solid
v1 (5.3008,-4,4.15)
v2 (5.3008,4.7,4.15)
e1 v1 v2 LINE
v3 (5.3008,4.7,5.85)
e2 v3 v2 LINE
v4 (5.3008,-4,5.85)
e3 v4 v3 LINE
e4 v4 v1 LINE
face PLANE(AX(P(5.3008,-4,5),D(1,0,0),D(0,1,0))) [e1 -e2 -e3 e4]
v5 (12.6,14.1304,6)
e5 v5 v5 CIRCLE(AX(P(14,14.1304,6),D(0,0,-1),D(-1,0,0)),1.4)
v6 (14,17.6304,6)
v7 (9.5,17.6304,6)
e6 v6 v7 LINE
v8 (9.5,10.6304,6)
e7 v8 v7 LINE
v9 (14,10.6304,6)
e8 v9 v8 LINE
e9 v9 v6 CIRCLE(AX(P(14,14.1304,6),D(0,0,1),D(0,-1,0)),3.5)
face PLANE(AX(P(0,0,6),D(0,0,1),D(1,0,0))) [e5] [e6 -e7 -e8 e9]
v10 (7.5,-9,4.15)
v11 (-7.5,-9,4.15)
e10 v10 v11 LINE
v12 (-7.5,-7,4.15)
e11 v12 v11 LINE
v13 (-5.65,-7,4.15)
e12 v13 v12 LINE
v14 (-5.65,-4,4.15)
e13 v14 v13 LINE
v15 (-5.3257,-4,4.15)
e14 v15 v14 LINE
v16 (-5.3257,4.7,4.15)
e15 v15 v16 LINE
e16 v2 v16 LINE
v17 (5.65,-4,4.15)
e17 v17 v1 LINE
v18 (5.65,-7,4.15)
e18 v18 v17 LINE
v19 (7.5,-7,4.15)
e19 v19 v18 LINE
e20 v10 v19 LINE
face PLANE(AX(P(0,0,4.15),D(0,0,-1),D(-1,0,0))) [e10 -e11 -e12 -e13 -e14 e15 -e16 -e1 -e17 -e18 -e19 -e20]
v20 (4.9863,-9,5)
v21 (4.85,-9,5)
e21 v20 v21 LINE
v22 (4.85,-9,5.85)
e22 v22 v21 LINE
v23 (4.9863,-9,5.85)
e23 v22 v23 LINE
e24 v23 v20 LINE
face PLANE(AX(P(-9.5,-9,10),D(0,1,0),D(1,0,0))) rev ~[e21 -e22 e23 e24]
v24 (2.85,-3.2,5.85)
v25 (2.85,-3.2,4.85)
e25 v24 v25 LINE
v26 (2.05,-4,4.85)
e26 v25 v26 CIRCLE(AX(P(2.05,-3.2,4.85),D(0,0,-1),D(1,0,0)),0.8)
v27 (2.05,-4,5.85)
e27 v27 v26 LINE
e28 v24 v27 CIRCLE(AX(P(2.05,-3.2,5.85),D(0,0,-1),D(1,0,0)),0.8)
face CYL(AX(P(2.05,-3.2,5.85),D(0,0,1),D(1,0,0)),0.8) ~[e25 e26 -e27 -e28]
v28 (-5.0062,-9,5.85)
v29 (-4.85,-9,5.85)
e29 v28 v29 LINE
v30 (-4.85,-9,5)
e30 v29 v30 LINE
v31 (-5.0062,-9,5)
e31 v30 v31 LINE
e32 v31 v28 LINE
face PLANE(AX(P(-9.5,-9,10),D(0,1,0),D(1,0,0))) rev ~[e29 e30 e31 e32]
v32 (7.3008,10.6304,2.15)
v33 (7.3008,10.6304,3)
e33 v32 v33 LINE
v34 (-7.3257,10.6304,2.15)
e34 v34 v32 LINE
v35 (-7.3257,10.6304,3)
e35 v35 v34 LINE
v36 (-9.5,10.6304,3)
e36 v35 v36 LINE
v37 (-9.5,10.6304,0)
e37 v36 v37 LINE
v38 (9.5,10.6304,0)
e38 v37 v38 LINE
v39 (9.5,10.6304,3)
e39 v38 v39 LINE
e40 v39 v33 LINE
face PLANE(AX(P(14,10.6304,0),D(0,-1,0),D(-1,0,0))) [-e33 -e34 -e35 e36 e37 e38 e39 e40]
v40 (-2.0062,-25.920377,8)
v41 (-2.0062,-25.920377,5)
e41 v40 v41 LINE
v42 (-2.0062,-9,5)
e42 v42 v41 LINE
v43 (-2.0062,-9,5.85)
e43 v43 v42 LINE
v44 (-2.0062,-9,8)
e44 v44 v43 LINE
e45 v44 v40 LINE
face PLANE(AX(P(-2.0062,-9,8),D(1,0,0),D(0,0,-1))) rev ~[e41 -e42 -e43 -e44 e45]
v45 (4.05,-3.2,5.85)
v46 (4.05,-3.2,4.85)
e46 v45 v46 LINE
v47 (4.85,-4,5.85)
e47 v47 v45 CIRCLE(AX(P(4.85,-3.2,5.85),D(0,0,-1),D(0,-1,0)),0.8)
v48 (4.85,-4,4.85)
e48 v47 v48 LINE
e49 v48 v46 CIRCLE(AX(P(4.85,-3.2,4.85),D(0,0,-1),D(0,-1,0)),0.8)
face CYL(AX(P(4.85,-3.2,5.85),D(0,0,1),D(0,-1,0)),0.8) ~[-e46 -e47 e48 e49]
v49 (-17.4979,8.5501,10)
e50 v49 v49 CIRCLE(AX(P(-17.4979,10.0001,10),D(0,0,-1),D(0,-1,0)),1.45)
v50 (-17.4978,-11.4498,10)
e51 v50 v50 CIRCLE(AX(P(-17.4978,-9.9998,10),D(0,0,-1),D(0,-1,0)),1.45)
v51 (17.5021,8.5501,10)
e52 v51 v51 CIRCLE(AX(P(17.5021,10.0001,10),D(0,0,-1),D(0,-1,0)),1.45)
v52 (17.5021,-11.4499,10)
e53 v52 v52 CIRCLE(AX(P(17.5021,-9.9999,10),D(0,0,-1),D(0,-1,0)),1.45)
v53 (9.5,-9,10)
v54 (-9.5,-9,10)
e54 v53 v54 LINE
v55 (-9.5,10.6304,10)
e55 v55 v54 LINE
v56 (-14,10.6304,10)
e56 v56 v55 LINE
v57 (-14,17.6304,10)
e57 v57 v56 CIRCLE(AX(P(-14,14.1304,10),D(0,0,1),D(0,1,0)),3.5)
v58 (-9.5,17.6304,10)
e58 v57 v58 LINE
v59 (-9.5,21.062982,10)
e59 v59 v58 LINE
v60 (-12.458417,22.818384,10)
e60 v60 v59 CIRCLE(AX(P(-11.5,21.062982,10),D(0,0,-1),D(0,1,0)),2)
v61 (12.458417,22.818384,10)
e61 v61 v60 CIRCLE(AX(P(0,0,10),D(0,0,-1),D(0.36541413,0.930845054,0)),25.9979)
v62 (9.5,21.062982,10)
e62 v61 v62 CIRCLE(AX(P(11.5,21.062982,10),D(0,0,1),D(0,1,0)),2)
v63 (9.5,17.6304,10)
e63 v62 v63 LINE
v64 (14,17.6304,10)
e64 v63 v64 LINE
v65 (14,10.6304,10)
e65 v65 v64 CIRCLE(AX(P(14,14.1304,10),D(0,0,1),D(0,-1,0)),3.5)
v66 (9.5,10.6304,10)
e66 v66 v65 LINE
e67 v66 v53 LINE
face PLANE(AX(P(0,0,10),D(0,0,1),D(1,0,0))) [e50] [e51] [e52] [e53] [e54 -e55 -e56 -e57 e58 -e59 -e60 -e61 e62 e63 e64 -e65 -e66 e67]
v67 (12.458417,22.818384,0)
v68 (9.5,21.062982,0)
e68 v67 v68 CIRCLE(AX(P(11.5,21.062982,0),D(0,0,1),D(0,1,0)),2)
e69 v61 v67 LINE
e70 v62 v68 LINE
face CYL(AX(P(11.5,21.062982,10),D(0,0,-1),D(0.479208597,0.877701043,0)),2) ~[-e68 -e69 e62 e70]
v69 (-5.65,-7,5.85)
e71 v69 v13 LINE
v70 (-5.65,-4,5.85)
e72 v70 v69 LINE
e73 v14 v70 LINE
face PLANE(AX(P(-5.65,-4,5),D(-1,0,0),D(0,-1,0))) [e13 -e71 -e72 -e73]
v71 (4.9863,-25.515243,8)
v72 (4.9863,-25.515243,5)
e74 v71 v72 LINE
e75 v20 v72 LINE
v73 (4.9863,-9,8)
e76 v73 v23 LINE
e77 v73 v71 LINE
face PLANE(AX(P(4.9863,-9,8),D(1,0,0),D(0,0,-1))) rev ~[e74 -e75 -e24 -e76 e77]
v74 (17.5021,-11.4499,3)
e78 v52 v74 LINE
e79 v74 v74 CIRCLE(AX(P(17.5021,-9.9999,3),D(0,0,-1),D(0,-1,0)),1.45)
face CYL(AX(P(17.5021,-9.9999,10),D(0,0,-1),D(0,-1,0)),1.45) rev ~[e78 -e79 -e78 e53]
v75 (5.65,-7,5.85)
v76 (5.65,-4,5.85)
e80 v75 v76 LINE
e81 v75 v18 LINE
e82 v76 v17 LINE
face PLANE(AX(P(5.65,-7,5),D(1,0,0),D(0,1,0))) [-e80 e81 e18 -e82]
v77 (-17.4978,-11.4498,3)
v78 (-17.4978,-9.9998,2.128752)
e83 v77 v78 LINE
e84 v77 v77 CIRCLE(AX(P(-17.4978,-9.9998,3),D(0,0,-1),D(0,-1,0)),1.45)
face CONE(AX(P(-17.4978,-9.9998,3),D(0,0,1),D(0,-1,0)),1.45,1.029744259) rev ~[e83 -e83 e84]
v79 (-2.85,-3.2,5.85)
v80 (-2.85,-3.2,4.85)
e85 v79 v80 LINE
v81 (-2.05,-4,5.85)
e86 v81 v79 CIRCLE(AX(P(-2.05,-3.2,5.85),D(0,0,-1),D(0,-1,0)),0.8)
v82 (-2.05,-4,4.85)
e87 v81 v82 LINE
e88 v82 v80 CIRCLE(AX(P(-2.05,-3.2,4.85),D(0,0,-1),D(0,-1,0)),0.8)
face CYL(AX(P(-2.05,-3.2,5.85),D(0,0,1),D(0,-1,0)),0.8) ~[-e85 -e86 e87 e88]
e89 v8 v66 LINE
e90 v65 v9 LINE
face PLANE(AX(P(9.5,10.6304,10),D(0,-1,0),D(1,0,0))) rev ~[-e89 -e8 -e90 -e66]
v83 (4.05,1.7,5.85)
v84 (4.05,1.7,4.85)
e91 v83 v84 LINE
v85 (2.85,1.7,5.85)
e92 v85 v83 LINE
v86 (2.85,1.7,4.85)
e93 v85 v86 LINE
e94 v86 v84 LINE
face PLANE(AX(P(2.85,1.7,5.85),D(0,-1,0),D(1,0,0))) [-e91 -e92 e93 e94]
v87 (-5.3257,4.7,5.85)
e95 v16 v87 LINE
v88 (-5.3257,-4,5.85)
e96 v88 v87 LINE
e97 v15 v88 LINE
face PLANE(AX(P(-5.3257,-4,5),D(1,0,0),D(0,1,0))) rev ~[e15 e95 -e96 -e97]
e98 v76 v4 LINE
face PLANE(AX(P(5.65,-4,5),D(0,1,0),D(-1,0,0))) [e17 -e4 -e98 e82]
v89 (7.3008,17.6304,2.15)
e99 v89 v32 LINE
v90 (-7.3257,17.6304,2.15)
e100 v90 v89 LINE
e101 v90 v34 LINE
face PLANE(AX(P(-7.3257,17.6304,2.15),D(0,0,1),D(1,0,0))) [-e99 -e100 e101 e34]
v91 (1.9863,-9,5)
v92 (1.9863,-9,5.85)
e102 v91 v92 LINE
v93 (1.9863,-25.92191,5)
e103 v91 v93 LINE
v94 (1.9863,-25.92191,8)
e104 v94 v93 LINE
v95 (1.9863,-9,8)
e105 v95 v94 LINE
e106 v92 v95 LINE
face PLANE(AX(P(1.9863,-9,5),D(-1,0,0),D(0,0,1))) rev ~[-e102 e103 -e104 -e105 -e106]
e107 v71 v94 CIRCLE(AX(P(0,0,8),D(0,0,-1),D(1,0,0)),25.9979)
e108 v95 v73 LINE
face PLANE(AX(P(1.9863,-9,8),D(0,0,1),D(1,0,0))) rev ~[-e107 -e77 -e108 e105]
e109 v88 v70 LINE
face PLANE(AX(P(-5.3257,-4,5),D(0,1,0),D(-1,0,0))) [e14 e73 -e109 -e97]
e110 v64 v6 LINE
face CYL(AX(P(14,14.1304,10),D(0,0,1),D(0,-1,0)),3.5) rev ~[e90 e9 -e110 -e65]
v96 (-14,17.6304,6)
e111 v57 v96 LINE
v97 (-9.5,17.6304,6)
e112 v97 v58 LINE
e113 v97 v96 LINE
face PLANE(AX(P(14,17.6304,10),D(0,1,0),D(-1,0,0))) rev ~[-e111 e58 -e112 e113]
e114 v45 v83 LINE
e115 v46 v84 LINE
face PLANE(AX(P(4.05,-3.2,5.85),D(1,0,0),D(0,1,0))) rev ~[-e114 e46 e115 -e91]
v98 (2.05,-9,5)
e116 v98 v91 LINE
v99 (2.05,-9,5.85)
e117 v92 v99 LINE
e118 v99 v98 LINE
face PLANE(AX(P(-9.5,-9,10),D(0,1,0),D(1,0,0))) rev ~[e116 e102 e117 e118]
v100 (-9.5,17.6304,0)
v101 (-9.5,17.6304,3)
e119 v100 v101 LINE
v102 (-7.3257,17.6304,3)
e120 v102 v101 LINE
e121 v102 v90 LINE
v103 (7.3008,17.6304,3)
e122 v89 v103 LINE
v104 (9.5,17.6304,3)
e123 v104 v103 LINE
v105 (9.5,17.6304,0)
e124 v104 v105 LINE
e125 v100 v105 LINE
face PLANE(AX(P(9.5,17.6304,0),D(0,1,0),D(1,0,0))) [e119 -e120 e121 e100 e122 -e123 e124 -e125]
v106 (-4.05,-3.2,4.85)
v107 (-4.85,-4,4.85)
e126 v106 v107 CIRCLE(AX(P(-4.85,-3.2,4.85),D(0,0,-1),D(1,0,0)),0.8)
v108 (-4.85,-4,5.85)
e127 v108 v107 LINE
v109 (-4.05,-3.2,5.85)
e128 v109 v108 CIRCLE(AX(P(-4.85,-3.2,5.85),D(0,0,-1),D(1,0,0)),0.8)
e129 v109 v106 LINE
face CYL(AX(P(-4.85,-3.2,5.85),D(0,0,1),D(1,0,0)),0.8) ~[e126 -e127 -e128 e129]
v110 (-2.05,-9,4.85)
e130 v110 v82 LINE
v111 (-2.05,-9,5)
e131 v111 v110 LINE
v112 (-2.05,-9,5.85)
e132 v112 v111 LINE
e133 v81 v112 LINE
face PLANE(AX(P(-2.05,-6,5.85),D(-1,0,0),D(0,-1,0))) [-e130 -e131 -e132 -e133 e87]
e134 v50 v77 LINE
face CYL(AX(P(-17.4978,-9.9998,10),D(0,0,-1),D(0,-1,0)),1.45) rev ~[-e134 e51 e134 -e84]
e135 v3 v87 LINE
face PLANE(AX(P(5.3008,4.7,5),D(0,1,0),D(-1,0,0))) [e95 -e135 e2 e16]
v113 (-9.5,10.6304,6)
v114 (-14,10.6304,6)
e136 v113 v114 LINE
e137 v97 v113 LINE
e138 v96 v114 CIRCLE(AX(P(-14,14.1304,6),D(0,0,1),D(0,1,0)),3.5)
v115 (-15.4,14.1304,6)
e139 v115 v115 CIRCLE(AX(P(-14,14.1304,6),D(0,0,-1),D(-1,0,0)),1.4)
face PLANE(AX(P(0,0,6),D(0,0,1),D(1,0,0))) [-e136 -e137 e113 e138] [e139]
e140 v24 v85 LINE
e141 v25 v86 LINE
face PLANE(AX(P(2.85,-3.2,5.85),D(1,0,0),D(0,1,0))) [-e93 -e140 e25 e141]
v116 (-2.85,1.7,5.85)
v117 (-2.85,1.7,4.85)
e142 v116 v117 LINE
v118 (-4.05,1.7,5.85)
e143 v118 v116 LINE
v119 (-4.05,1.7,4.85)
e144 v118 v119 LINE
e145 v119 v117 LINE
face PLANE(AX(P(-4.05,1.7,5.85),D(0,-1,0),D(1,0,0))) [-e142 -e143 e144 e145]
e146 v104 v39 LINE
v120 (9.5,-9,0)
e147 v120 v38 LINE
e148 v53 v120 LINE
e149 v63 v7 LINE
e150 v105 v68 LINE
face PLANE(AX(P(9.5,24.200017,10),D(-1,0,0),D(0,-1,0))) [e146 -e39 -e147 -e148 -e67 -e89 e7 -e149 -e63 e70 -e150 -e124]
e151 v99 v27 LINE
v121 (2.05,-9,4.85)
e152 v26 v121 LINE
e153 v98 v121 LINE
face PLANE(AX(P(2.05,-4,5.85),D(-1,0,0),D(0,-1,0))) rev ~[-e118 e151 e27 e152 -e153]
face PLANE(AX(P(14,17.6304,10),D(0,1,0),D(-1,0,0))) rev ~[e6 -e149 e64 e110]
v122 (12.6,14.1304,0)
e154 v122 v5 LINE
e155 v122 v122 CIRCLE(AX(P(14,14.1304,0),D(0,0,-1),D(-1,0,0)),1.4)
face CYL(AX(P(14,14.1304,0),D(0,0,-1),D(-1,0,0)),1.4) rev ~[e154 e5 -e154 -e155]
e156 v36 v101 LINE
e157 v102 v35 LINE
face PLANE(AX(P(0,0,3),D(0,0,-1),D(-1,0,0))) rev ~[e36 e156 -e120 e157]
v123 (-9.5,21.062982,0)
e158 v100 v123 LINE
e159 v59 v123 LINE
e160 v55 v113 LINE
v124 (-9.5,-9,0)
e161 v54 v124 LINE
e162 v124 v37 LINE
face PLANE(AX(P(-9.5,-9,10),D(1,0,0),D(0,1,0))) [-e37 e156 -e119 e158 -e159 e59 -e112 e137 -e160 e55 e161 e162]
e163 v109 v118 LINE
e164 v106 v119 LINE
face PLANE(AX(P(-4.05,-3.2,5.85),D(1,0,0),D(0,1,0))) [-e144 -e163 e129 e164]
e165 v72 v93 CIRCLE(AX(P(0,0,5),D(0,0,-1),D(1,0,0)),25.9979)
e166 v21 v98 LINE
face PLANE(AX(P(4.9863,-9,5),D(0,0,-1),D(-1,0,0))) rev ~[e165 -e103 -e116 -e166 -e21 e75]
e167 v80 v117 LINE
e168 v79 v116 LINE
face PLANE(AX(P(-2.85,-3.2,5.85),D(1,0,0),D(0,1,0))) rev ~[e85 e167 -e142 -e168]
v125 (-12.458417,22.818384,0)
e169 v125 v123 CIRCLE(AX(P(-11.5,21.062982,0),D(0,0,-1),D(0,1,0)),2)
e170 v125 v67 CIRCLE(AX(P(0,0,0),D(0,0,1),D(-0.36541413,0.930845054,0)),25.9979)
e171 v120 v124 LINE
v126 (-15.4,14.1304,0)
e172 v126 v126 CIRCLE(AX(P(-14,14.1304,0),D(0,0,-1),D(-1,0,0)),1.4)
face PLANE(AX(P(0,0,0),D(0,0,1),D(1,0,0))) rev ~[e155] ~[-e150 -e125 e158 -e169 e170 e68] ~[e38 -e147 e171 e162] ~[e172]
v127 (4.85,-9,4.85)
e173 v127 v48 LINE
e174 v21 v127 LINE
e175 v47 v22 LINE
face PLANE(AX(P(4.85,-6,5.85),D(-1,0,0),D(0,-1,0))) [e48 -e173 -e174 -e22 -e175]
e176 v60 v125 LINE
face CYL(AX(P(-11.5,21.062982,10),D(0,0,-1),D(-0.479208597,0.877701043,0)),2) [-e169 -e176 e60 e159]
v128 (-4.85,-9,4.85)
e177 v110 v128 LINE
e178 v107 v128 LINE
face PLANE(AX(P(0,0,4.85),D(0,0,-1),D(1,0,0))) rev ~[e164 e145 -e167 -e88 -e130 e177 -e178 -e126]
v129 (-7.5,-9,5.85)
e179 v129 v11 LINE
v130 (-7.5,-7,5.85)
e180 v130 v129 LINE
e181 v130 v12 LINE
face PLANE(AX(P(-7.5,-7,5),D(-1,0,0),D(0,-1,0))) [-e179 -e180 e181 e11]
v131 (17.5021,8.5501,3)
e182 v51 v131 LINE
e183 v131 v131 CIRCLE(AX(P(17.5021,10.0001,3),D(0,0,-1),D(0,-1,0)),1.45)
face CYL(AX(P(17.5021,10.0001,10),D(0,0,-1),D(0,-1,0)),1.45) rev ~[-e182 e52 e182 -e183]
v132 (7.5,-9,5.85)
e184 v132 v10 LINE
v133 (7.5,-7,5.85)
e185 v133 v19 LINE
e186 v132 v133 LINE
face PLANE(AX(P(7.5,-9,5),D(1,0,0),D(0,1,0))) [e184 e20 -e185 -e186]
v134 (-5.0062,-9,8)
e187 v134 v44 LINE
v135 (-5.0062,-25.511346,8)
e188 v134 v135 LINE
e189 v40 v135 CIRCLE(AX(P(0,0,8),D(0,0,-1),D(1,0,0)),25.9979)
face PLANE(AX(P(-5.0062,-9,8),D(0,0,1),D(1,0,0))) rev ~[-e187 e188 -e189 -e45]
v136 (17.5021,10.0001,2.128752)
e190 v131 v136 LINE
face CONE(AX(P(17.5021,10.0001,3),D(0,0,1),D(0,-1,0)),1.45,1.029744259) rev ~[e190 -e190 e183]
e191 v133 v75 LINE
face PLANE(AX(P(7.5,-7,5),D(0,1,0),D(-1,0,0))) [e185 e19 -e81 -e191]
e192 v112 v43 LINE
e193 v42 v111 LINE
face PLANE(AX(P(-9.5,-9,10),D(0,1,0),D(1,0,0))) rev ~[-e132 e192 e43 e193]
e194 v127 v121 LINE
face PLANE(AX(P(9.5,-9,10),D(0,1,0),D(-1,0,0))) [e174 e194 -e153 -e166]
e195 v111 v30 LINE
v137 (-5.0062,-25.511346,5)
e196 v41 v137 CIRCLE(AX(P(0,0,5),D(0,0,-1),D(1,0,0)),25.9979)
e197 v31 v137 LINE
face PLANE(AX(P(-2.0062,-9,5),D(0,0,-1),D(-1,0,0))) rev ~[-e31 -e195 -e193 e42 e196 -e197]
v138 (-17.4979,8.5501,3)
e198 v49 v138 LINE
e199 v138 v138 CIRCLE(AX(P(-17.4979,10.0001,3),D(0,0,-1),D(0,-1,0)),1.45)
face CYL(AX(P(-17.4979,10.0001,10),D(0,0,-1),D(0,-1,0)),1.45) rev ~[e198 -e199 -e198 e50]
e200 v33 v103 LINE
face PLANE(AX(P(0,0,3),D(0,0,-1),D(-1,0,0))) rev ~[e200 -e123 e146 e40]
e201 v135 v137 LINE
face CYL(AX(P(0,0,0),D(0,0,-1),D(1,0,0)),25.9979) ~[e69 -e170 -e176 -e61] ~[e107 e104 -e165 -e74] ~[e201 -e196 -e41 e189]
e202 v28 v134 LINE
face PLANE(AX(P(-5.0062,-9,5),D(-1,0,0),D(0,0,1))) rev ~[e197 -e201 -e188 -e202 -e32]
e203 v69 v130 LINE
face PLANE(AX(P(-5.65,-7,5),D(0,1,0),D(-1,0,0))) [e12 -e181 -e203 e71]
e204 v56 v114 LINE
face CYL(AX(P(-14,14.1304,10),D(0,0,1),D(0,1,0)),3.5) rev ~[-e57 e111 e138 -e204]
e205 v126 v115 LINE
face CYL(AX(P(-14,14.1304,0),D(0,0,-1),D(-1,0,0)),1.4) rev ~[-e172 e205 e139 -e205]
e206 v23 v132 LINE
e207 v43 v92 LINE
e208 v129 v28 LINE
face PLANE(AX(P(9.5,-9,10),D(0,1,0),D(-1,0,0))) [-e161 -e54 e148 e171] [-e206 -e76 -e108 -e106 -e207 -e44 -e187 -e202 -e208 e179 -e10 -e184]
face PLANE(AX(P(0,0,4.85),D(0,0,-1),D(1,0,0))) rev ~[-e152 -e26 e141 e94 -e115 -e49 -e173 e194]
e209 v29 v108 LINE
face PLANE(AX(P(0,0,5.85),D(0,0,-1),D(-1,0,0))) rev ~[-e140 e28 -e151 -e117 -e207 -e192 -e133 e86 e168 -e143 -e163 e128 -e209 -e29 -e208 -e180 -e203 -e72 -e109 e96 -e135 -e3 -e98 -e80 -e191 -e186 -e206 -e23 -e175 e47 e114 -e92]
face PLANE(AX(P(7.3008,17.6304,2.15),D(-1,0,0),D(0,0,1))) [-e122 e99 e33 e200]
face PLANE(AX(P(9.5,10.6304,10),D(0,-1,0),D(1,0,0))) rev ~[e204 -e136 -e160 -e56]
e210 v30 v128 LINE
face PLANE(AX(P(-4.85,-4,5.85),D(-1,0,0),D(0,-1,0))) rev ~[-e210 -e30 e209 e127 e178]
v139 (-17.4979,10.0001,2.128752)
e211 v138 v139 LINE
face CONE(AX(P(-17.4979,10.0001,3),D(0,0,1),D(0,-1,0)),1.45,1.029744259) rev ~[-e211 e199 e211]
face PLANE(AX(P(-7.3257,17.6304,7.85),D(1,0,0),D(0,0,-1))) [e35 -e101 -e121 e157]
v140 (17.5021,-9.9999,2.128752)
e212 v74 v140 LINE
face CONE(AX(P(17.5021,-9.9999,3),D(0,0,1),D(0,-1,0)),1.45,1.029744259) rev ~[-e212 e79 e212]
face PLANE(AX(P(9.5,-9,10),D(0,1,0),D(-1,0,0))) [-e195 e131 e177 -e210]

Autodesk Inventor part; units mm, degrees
ref_plane "YZ Plane" through (0, 0, 0) normal (1, 0, 0) x (0, 1, 0)
ref_plane "XZ Plane" through (0, 0, 0) normal (0, 1, 0) x (-1, 0, 0)
ref_plane "XY Plane" through (0, 0, 0) normal (0, 0, 1) x (1, 0, 0)
ref_plane "Work Plane1" through (0, 0, 0) normal (0, 0, 1) x (1, 0, 0)
sketch "Sketch1" plane through (0, 0, 0) normal (0, 0, 1) x (1, 0, 0)
  circle A0 centre (0, 0) radius 25.9979 projected
  circle A1 centre (-9.4998, -11.0022) radius 2.6601 projected
  circle A2 centre (0.0001, -0.0022) radius 3.8801 projected
  circle A3 centre (0.0001, -0.0022) radius 6.7754 projected
  circle A4 centre (0.0001, -0.0022) radius 10
  point P0 (0, 0)
  dimension "d17" = 20
extrude "Extrusion1" add sketch "Sketch1" along normal blind 10 contours A0 | A1 | A2 | A3 | A4
ref_plane "Arbeitsebene4" through (0, 0, 5) normal (0, 0, -1) x (-1, 0, 0)
sketch "Skizze22" plane through (0, 0, 10) normal (0, 0, 1) x (1, 0, 0)
  circle A0 centre (0, 0) radius 25.9979 projected
  line L0 (-9.5, 60.9958) -> (9.5, 60.9958)
  line L1 (9.5, 60.9958) -> (9.5, -9)
  line L2 (9.5, -9) -> (-9.5, -9)
  line L3 (-9.5, -9) -> (-9.5, 60.9958)
  line L4 (-9.5, 60.9958) -> (9.5, -9) construction
  line L5 (9.5, 60.9958) -> (-9.5, -9) construction
  point P0 (0, 0)
  point P1 (0, 25.9979)
  point P2 (2.05, -9)
  dimension "d82" = 19
extrude "Extrusion16" cut sketch "Skizze22" against normal blind 10 contours L1 L2 L3 A0 | A0 L3 L0 L1 picked at (-1.0778, 2.5987)
sketch "Skizze23" plane through (0, 0, 5) normal (0, 0, -1) x (-1, 0, 0)
  line L0 (-5.5015, 4.1) -> (-5.3008, 4.7) projected
  line L1 (-5.3008, 4.7) -> (5.3257, 4.7) projected
  line L2 (5.3257, 4.7) -> (5.5015, 4.1) projected
  line L3 (5.5015, 4.1) -> (5.65, 3.9515) projected
  line L4 (5.65, 3.9515) -> (5.65, -4) projected
  line L5 (4.85, -4) -> (5.65, -4) projected
  arc A0 (4.05, -3.2) -> (4.85, -4) centre (4.85, -3.2) ccw projected
  line L6 (4.05, -3.2) -> (4.05, 1.7) projected
  line L7 (4.05, 1.7) -> (2.85, 1.7) projected
  line L8 (2.85, -3.2) -> (2.85, 1.7) projected
  arc A1 (2.05, -4) -> (2.85, -3.2) centre (2.05, -3.2) ccw projected
  line L9 (-2.05, -4) -> (2.05, -4) projected
  arc A2 (-2.85, -3.2) -> (-2.05, -4) centre (-2.05, -3.2) ccw projected
  line L10 (-2.85, -3.2) -> (-2.85, 1.7) projected
  line L11 (-2.85, 1.7) -> (-4.05, 1.7) projected
  line L12 (-4.05, -3.2) -> (-4.05, 1.7) projected
  arc A3 (-4.85, -4) -> (-4.05, -3.2) centre (-4.85, -3.2) ccw projected
  line L13 (-5.65, -4) -> (-4.85, -4) projected
  line L14 (-5.65, -4) -> (-5.65, 3.9515) projected
  line L15 (-5.65, 3.9515) -> (-5.5015, 4.1) projected
  line L16 (5.65, -4) -> (5.65, -7) projected
  line L17 (5.65, -7) -> (7.5, -7) projected
  line L18 (7.5, -7) -> (7.5, -9) projected
  line L19 (7.5, -9) -> (4.85, -9) projected
  line L20 (4.85, -6) -> (4.85, -9) projected
  line L21 (4.85, -4) -> (4.85, -6) projected
  line L22 (4.85, -4) -> (5.65, -4) projected
  line L23 (-5.65, -7) -> (-5.65, -4) projected
  line L24 (-5.65, -4) -> (-4.85, -4) projected
  line L25 (-4.85, -4) -> (-4.85, -6) projected
  line L26 (-4.85, -6) -> (-4.85, -9) projected
  line L27 (-4.85, -9) -> (-7.5, -9) projected
  line L28 (-7.5, -9) -> (-7.5, -7) projected
  line L29 (-7.5, -7) -> (-5.65, -7) projected
  line L30 (-4.85, -9) -> (4.85, -9)
  line L31 (5.65, -7) -> (5.3257, -7)
  line L32 (5.3257, -7) -> (5.3257, 4.7)
  line L33 (5.3257, 4.7) -> (5.65, 4.7)
  line L34 (5.65, 4.7) -> (5.65, -7)
  line L35 (-5.3008, 4.7) -> (-5.65, 4.7)
  line L36 (-5.65, 4.7) -> (-5.65, -7)
  line L37 (-5.65, -7) -> (-5.3008, -7)
  line L38 (-5.3008, -7) -> (-5.3008, 4.7)
  point P0 (5.3257, -4)
  point P1 (-5.3008, -4)
extrude "Extrusion17" add sketch "Skizze23" along normal mid plane 1.7 contours L1 L32 L5 A0 L6 L7 L8 A1 L9 A2 L10 L11 L12 A3 L13 L38 | L38 L37 L23 L13 | L13 L25 L26 L27 L28 L29 L37 L38 | L32 L31 L17 L18 L19 L20 L21 L5 | L5 L16 L31 L32 | A3 L12 L11 L10 A2 L9 A1 L8 L7 L6 A0 L21 L20 L30 L26 L25
sketch "Skizze24" plane through (0, 0, 5.85) normal (0, 0, -1) x (1, 0, 0)
  line L0 (2.85, 3.2) -> (2.85, -1.7) projected
  line L1 (2.85, -1.7) -> (4.05, -1.7) projected
  line L2 (4.05, 3.2) -> (4.05, -1.7) projected
  arc A0 (4.85, 4) -> (4.05, 3.2) centre (4.85, 3.2) ccw projected
  line L3 (4.85, 4) -> (4.85, 6) projected
  arc A1 (2.85, 3.2) -> (2.05, 4) centre (2.05, 3.2) ccw projected
  line L4 (2.05, 4) -> (2.05, 6) projected
  line L5 (4.85, 6) -> (4.85, 9) projected
  line L6 (2.05, 6) -> (2.05, 9) projected
  line L7 (9.5, 9) -> (-9.5, 9) projected
  line L8 (-2.05, 6) -> (-2.05, 9) projected
  line L9 (-4.85, 6) -> (-4.85, 9) projected
  line L10 (-2.15, 5.5641) -> (-2.15, 4)
  line L11 (-2.05, 4) -> (-2.05, 6) projected
  line L12 (-4.85, 4) -> (-4.85, 6) projected
  arc A2 (-4.05, 3.2) -> (-4.85, 4) centre (-4.85, 3.2) ccw projected
  arc A3 (-2.05, 4) -> (-2.85, 3.2) centre (-2.05, 3.2) ccw projected
  line L13 (-2.85, 3.2) -> (-2.85, -1.7) projected
  line L14 (-4.05, 3.2) -> (-4.05, -1.7) projected
  line L15 (-4.05, -1.7) -> (-2.85, -1.7) projected
extrude "Extrusion18" cut sketch "Skizze24" along normal blind 1
sketch "Skizze25" plane through (-9.5, -9, 10) normal (0, 1, 0) x (1, 0, 0)
  line L0 (14.4863, 5) -> (11.4863, 5)
  line L1 (11.4863, 5) -> (11.4863, 2)
  line L2 (11.4863, 2) -> (14.4863, 2)
  line L3 (14.4863, 2) -> (14.4863, 5)
  line L4 (7.4938, 5) -> (4.4938, 5)
  line L5 (4.4938, 5) -> (4.4938, 2)
  line L6 (4.4938, 2) -> (7.4938, 2)
  line L7 (7.4938, 2) -> (7.4938, 5)
  line L8 (19, 0) -> (0, 0) projected
  line L9 (19, 0) -> (19, 10) projected
  line L10 (0, 10) -> (19, 10) projected
  line L11 (0, 0) -> (0, 10) projected
  point P0 (9.5, 10)
  dimension "d90" = 3
  dimension "d91" = 3
  dimension "d92" = 3
  dimension "d93" = 3
extrude "Extrusion19" cut sketch "Skizze25" against normal through all contours L3 L2 L1 L0 | L7 L6 L5 L4
sketch "Skizze26" plane through (0, 0, 10) normal (0, 0, 1) x (1, 0, 0)
  line L0 (9.5, 24.2) -> (9.5, -9) projected
  line L1 (9.5, -9) -> (-9.5, -9) projected
  line L2 (-9.5, -9) -> (-9.5, 24.2) projected
  arc A0 (-9.5, 24.2) -> (9.5, 24.2) centre (0, 0) ccw projected
  line L3 (-14, 14.1304) -> (14, 14.1304) construction
  line L4 (-14, 10.6304) -> (14, 10.6304)
  line L5 (14, 17.6304) -> (-14, 17.6304)
  arc A1 (-14, 17.6304) -> (-14, 10.6304) centre (-14, 14.1304) ccw
  arc A2 (14, 10.6304) -> (14, 17.6304) centre (14, 14.1304) ccw
  point P0 (0, 0)
  point P1 (0, 14.1304)
  dimension "d96" = 14
  dimension "d97" = 7
extrude "Extrusion20" cut sketch "Skizze26" against normal blind 4 contours L5 A2 L4 L0 | L0 L4 L2 L5 | L2 L4 A1 L5
sketch "Skizze27" plane through (0, 0, 0) normal (0, 0, -1) x (-1, 0, 0)
  line L0 (-9.5, 10.6304) -> (-9.5, 17.6304) projected
  line L1 (-14, 10.6304) -> (-9.5, 10.6304) projected
  arc A0 (-14, 17.6304) -> (-14, 10.6304) centre (-14, 14.1304) ccw projected
  line L2 (-9.5, 17.6304) -> (-14, 17.6304) projected
  line L3 (9.5, 17.6304) -> (9.5, 10.6304) projected
  line L4 (14, 17.6304) -> (9.5, 17.6304) projected
  arc A1 (14, 10.6304) -> (14, 17.6304) centre (14, 14.1304) ccw projected
  line L5 (9.5, 10.6304) -> (14, 10.6304) projected
  line L6 (9.5, 17.6304) -> (9.5, 10.6304) projected
  line L7 (-9.5, 17.6304) -> (-14, 17.6304) projected
  line L8 (9.5, 10.6304) -> (-9.5, 10.6304)
  line L9 (-9.5, 10.6304) -> (-9.5, 17.6304)
  line L10 (-9.5, 17.6304) -> (9.5, 17.6304)
  line L11 (9.5, 17.6304) -> (9.5, 10.6304)
  point P0 (0, 0)
extrude "Extrusion21" add sketch "Skizze27" against normal blind 3
sketch "Skizze28" plane through (0, 0, 0) normal (0, 0, -1) x (-1, 0, 0)
  arc A0 (-14, 17.6304) -> (-14, 10.6304) centre (-14, 14.1304) ccw projected
  arc A1 (14, 10.6304) -> (14, 17.6304) centre (14, 14.1304) ccw projected
  circle A2 centre (-14, 14.1304) radius 1.4
  circle A3 centre (14, 14.1304) radius 1.4
  point P0 (0, 0)
  dimension "d102" = 2.8
  dimension "d103" = 2.8
extrude "Extrusion22" cut sketch "Skizze28" against normal through all
fillet "Rundung3" radius 2 2 edges at (9.5, 24.2, 5) (-9.5, 24.2, 5)
ref_plane "Arbeitsebene5" through (0, 0, 5) normal (0, 0, 1) x (1, 0, 0)
sketch "Skizze29" plane through (0, 0, 10) normal (0, 0, 1) x (1, 0, 0)
  point P0 (0, 0)
sketch "Skizze30" plane through (0, 0, 10) normal (0, 0, 1) x (1, 0, 0)
  circle A0 centre (-17.4978, -9.9998) radius 1.3999 projected
  circle A1 centre (-17.4979, 10.0001) radius 1.4 projected
  circle A2 centre (17.5021, 10.0001) radius 1.4 projected
  circle A3 centre (17.5021, -9.9999) radius 1.4001 projected
  circle A4 centre (0.0022, 0.0001) radius 3.95 projected
  circle A5 centre (11.0022, -9.4998) radius 2.6601 projected
  line L0 (19.0307, -17.7122) -> (18.4312, -14.7304) projected
  line L1 (18.4312, -14.7304) -> (15.4222, -13.716) projected
  line L2 (15.4222, -13.716) -> (13.0391, -15.8146) projected
  line L3 (13.0391, -15.8146) -> (13.6651, -18.9277) projected
  line L4 (13.6651, -18.9277) -> (16.6741, -19.9422) projected
  line L5 (16.6741, -19.9422) -> (17.7641, -18.9823) projected
  arc A6 (7.7254, -24.8235) -> (17.7641, -18.9823) centre (0, 0) ccw projected
  arc A7 (6.496, -23.8502) -> (7.7254, -24.8235) centre (7.496, -23.8502) ccw projected
  line L6 (6.496, -23.8502) -> (6.496, -17.7002) projected
  arc A8 (6.496, -17.7002) -> (4.496, -15.7002) centre (4.496, -17.7002) ccw projected
  line L7 (4.496, -15.7002) -> (-3.4917, -15.7002) projected
  arc A9 (-3.4917, -15.7002) -> (-5.4917, -17.7002) centre (-3.4917, -17.7002) ccw projected
  line L8 (-5.4917, -17.7002) -> (-5.4917, -24.1417) projected
  arc A10 (-6.6998, -25.1198) -> (-5.4917, -24.1417) centre (-6.4917, -24.1417) ccw projected
  arc A11 (-25.545, 4.8315) -> (-6.6998, -25.1198) centre (0, 0) ccw projected
  line L9 (-25.545, 4.8315) -> (-24.0265, 3.1166) projected
  line L10 (-24.0265, 3.1166) -> (-20.9151, 3.751) projected
  line L11 (-20.9151, 3.751) -> (-19.9088, 6.7628) projected
  line L12 (-19.9088, 6.7628) -> (-22.0139, 9.1401) projected
  line L13 (-22.0139, 9.1401) -> (-24.5243, 8.6283) projected
  arc A12 (-9.6986, 24.1211) -> (-24.5243, 8.6283) centre (0, 0) ccw projected
  line L14 (-9.6986, 24.1211) -> (-10.2078, 21.7325) projected
  line L15 (-10.2078, 21.7325) -> (-7.8493, 19.6063) projected
  line L16 (-7.8493, 19.6063) -> (-4.8287, 20.5857) projected
  line L17 (-4.8287, 20.5857) -> (-4.1666, 23.6914) projected
  line L18 (-4.1666, 23.6914) -> (-5.9577, 25.306) projected
  arc A13 (19.0307, -17.7122) -> (-5.9577, 25.306) centre (0, 0) ccw projected
  point P0 (0, 0)
hole "Bohrung2" at (-17.4978, -9.9998, 10) at (-17.4979, 10.0001, 10) at (17.5021, -9.9999, 10) at (17.5021, 10.0001, 10) direction (0, 0, -1) diameter 2.9 depth 7 tip angle 118
ref_plane "Arbeitsebene6" through (0, -9, 0) normal (-1, 0, 0) x (0, 0, 1)
sketch "Skizze32" plane through (-9.5, 17.6304, 0) normal (0, 1, 0) x (1, 0, 0)
  line L0 (14.8008, -5.85) -> (14.8008, -4.15) projected
  line L1 (4.1743, -4.15) -> (14.8008, -4.15) projected
  line L2 (4.1743, -5.85) -> (4.1743, -4.15) projected
  line L3 (14.8008, -5.85) -> (4.1743, -5.85) projected
  line L4 (16.8008, -2.15) -> (16.8008, -7.85)
  line L5 (16.8008, -7.85) -> (2.1743, -7.85)
  line L6 (2.1743, -7.85) -> (2.1743, -2.15)
  line L7 (2.1743, -2.15) -> (16.8008, -2.15)
  point P0 (9.5, 0)
  dimension "d116" = 2
extrude "Extrusion24" cut sketch "Skizze32" against normal blind 7 contours L3 L2 L1 L0 | L4 L5 L6 L7
properties part number "Matchboxscope_layer_ikealamp"
